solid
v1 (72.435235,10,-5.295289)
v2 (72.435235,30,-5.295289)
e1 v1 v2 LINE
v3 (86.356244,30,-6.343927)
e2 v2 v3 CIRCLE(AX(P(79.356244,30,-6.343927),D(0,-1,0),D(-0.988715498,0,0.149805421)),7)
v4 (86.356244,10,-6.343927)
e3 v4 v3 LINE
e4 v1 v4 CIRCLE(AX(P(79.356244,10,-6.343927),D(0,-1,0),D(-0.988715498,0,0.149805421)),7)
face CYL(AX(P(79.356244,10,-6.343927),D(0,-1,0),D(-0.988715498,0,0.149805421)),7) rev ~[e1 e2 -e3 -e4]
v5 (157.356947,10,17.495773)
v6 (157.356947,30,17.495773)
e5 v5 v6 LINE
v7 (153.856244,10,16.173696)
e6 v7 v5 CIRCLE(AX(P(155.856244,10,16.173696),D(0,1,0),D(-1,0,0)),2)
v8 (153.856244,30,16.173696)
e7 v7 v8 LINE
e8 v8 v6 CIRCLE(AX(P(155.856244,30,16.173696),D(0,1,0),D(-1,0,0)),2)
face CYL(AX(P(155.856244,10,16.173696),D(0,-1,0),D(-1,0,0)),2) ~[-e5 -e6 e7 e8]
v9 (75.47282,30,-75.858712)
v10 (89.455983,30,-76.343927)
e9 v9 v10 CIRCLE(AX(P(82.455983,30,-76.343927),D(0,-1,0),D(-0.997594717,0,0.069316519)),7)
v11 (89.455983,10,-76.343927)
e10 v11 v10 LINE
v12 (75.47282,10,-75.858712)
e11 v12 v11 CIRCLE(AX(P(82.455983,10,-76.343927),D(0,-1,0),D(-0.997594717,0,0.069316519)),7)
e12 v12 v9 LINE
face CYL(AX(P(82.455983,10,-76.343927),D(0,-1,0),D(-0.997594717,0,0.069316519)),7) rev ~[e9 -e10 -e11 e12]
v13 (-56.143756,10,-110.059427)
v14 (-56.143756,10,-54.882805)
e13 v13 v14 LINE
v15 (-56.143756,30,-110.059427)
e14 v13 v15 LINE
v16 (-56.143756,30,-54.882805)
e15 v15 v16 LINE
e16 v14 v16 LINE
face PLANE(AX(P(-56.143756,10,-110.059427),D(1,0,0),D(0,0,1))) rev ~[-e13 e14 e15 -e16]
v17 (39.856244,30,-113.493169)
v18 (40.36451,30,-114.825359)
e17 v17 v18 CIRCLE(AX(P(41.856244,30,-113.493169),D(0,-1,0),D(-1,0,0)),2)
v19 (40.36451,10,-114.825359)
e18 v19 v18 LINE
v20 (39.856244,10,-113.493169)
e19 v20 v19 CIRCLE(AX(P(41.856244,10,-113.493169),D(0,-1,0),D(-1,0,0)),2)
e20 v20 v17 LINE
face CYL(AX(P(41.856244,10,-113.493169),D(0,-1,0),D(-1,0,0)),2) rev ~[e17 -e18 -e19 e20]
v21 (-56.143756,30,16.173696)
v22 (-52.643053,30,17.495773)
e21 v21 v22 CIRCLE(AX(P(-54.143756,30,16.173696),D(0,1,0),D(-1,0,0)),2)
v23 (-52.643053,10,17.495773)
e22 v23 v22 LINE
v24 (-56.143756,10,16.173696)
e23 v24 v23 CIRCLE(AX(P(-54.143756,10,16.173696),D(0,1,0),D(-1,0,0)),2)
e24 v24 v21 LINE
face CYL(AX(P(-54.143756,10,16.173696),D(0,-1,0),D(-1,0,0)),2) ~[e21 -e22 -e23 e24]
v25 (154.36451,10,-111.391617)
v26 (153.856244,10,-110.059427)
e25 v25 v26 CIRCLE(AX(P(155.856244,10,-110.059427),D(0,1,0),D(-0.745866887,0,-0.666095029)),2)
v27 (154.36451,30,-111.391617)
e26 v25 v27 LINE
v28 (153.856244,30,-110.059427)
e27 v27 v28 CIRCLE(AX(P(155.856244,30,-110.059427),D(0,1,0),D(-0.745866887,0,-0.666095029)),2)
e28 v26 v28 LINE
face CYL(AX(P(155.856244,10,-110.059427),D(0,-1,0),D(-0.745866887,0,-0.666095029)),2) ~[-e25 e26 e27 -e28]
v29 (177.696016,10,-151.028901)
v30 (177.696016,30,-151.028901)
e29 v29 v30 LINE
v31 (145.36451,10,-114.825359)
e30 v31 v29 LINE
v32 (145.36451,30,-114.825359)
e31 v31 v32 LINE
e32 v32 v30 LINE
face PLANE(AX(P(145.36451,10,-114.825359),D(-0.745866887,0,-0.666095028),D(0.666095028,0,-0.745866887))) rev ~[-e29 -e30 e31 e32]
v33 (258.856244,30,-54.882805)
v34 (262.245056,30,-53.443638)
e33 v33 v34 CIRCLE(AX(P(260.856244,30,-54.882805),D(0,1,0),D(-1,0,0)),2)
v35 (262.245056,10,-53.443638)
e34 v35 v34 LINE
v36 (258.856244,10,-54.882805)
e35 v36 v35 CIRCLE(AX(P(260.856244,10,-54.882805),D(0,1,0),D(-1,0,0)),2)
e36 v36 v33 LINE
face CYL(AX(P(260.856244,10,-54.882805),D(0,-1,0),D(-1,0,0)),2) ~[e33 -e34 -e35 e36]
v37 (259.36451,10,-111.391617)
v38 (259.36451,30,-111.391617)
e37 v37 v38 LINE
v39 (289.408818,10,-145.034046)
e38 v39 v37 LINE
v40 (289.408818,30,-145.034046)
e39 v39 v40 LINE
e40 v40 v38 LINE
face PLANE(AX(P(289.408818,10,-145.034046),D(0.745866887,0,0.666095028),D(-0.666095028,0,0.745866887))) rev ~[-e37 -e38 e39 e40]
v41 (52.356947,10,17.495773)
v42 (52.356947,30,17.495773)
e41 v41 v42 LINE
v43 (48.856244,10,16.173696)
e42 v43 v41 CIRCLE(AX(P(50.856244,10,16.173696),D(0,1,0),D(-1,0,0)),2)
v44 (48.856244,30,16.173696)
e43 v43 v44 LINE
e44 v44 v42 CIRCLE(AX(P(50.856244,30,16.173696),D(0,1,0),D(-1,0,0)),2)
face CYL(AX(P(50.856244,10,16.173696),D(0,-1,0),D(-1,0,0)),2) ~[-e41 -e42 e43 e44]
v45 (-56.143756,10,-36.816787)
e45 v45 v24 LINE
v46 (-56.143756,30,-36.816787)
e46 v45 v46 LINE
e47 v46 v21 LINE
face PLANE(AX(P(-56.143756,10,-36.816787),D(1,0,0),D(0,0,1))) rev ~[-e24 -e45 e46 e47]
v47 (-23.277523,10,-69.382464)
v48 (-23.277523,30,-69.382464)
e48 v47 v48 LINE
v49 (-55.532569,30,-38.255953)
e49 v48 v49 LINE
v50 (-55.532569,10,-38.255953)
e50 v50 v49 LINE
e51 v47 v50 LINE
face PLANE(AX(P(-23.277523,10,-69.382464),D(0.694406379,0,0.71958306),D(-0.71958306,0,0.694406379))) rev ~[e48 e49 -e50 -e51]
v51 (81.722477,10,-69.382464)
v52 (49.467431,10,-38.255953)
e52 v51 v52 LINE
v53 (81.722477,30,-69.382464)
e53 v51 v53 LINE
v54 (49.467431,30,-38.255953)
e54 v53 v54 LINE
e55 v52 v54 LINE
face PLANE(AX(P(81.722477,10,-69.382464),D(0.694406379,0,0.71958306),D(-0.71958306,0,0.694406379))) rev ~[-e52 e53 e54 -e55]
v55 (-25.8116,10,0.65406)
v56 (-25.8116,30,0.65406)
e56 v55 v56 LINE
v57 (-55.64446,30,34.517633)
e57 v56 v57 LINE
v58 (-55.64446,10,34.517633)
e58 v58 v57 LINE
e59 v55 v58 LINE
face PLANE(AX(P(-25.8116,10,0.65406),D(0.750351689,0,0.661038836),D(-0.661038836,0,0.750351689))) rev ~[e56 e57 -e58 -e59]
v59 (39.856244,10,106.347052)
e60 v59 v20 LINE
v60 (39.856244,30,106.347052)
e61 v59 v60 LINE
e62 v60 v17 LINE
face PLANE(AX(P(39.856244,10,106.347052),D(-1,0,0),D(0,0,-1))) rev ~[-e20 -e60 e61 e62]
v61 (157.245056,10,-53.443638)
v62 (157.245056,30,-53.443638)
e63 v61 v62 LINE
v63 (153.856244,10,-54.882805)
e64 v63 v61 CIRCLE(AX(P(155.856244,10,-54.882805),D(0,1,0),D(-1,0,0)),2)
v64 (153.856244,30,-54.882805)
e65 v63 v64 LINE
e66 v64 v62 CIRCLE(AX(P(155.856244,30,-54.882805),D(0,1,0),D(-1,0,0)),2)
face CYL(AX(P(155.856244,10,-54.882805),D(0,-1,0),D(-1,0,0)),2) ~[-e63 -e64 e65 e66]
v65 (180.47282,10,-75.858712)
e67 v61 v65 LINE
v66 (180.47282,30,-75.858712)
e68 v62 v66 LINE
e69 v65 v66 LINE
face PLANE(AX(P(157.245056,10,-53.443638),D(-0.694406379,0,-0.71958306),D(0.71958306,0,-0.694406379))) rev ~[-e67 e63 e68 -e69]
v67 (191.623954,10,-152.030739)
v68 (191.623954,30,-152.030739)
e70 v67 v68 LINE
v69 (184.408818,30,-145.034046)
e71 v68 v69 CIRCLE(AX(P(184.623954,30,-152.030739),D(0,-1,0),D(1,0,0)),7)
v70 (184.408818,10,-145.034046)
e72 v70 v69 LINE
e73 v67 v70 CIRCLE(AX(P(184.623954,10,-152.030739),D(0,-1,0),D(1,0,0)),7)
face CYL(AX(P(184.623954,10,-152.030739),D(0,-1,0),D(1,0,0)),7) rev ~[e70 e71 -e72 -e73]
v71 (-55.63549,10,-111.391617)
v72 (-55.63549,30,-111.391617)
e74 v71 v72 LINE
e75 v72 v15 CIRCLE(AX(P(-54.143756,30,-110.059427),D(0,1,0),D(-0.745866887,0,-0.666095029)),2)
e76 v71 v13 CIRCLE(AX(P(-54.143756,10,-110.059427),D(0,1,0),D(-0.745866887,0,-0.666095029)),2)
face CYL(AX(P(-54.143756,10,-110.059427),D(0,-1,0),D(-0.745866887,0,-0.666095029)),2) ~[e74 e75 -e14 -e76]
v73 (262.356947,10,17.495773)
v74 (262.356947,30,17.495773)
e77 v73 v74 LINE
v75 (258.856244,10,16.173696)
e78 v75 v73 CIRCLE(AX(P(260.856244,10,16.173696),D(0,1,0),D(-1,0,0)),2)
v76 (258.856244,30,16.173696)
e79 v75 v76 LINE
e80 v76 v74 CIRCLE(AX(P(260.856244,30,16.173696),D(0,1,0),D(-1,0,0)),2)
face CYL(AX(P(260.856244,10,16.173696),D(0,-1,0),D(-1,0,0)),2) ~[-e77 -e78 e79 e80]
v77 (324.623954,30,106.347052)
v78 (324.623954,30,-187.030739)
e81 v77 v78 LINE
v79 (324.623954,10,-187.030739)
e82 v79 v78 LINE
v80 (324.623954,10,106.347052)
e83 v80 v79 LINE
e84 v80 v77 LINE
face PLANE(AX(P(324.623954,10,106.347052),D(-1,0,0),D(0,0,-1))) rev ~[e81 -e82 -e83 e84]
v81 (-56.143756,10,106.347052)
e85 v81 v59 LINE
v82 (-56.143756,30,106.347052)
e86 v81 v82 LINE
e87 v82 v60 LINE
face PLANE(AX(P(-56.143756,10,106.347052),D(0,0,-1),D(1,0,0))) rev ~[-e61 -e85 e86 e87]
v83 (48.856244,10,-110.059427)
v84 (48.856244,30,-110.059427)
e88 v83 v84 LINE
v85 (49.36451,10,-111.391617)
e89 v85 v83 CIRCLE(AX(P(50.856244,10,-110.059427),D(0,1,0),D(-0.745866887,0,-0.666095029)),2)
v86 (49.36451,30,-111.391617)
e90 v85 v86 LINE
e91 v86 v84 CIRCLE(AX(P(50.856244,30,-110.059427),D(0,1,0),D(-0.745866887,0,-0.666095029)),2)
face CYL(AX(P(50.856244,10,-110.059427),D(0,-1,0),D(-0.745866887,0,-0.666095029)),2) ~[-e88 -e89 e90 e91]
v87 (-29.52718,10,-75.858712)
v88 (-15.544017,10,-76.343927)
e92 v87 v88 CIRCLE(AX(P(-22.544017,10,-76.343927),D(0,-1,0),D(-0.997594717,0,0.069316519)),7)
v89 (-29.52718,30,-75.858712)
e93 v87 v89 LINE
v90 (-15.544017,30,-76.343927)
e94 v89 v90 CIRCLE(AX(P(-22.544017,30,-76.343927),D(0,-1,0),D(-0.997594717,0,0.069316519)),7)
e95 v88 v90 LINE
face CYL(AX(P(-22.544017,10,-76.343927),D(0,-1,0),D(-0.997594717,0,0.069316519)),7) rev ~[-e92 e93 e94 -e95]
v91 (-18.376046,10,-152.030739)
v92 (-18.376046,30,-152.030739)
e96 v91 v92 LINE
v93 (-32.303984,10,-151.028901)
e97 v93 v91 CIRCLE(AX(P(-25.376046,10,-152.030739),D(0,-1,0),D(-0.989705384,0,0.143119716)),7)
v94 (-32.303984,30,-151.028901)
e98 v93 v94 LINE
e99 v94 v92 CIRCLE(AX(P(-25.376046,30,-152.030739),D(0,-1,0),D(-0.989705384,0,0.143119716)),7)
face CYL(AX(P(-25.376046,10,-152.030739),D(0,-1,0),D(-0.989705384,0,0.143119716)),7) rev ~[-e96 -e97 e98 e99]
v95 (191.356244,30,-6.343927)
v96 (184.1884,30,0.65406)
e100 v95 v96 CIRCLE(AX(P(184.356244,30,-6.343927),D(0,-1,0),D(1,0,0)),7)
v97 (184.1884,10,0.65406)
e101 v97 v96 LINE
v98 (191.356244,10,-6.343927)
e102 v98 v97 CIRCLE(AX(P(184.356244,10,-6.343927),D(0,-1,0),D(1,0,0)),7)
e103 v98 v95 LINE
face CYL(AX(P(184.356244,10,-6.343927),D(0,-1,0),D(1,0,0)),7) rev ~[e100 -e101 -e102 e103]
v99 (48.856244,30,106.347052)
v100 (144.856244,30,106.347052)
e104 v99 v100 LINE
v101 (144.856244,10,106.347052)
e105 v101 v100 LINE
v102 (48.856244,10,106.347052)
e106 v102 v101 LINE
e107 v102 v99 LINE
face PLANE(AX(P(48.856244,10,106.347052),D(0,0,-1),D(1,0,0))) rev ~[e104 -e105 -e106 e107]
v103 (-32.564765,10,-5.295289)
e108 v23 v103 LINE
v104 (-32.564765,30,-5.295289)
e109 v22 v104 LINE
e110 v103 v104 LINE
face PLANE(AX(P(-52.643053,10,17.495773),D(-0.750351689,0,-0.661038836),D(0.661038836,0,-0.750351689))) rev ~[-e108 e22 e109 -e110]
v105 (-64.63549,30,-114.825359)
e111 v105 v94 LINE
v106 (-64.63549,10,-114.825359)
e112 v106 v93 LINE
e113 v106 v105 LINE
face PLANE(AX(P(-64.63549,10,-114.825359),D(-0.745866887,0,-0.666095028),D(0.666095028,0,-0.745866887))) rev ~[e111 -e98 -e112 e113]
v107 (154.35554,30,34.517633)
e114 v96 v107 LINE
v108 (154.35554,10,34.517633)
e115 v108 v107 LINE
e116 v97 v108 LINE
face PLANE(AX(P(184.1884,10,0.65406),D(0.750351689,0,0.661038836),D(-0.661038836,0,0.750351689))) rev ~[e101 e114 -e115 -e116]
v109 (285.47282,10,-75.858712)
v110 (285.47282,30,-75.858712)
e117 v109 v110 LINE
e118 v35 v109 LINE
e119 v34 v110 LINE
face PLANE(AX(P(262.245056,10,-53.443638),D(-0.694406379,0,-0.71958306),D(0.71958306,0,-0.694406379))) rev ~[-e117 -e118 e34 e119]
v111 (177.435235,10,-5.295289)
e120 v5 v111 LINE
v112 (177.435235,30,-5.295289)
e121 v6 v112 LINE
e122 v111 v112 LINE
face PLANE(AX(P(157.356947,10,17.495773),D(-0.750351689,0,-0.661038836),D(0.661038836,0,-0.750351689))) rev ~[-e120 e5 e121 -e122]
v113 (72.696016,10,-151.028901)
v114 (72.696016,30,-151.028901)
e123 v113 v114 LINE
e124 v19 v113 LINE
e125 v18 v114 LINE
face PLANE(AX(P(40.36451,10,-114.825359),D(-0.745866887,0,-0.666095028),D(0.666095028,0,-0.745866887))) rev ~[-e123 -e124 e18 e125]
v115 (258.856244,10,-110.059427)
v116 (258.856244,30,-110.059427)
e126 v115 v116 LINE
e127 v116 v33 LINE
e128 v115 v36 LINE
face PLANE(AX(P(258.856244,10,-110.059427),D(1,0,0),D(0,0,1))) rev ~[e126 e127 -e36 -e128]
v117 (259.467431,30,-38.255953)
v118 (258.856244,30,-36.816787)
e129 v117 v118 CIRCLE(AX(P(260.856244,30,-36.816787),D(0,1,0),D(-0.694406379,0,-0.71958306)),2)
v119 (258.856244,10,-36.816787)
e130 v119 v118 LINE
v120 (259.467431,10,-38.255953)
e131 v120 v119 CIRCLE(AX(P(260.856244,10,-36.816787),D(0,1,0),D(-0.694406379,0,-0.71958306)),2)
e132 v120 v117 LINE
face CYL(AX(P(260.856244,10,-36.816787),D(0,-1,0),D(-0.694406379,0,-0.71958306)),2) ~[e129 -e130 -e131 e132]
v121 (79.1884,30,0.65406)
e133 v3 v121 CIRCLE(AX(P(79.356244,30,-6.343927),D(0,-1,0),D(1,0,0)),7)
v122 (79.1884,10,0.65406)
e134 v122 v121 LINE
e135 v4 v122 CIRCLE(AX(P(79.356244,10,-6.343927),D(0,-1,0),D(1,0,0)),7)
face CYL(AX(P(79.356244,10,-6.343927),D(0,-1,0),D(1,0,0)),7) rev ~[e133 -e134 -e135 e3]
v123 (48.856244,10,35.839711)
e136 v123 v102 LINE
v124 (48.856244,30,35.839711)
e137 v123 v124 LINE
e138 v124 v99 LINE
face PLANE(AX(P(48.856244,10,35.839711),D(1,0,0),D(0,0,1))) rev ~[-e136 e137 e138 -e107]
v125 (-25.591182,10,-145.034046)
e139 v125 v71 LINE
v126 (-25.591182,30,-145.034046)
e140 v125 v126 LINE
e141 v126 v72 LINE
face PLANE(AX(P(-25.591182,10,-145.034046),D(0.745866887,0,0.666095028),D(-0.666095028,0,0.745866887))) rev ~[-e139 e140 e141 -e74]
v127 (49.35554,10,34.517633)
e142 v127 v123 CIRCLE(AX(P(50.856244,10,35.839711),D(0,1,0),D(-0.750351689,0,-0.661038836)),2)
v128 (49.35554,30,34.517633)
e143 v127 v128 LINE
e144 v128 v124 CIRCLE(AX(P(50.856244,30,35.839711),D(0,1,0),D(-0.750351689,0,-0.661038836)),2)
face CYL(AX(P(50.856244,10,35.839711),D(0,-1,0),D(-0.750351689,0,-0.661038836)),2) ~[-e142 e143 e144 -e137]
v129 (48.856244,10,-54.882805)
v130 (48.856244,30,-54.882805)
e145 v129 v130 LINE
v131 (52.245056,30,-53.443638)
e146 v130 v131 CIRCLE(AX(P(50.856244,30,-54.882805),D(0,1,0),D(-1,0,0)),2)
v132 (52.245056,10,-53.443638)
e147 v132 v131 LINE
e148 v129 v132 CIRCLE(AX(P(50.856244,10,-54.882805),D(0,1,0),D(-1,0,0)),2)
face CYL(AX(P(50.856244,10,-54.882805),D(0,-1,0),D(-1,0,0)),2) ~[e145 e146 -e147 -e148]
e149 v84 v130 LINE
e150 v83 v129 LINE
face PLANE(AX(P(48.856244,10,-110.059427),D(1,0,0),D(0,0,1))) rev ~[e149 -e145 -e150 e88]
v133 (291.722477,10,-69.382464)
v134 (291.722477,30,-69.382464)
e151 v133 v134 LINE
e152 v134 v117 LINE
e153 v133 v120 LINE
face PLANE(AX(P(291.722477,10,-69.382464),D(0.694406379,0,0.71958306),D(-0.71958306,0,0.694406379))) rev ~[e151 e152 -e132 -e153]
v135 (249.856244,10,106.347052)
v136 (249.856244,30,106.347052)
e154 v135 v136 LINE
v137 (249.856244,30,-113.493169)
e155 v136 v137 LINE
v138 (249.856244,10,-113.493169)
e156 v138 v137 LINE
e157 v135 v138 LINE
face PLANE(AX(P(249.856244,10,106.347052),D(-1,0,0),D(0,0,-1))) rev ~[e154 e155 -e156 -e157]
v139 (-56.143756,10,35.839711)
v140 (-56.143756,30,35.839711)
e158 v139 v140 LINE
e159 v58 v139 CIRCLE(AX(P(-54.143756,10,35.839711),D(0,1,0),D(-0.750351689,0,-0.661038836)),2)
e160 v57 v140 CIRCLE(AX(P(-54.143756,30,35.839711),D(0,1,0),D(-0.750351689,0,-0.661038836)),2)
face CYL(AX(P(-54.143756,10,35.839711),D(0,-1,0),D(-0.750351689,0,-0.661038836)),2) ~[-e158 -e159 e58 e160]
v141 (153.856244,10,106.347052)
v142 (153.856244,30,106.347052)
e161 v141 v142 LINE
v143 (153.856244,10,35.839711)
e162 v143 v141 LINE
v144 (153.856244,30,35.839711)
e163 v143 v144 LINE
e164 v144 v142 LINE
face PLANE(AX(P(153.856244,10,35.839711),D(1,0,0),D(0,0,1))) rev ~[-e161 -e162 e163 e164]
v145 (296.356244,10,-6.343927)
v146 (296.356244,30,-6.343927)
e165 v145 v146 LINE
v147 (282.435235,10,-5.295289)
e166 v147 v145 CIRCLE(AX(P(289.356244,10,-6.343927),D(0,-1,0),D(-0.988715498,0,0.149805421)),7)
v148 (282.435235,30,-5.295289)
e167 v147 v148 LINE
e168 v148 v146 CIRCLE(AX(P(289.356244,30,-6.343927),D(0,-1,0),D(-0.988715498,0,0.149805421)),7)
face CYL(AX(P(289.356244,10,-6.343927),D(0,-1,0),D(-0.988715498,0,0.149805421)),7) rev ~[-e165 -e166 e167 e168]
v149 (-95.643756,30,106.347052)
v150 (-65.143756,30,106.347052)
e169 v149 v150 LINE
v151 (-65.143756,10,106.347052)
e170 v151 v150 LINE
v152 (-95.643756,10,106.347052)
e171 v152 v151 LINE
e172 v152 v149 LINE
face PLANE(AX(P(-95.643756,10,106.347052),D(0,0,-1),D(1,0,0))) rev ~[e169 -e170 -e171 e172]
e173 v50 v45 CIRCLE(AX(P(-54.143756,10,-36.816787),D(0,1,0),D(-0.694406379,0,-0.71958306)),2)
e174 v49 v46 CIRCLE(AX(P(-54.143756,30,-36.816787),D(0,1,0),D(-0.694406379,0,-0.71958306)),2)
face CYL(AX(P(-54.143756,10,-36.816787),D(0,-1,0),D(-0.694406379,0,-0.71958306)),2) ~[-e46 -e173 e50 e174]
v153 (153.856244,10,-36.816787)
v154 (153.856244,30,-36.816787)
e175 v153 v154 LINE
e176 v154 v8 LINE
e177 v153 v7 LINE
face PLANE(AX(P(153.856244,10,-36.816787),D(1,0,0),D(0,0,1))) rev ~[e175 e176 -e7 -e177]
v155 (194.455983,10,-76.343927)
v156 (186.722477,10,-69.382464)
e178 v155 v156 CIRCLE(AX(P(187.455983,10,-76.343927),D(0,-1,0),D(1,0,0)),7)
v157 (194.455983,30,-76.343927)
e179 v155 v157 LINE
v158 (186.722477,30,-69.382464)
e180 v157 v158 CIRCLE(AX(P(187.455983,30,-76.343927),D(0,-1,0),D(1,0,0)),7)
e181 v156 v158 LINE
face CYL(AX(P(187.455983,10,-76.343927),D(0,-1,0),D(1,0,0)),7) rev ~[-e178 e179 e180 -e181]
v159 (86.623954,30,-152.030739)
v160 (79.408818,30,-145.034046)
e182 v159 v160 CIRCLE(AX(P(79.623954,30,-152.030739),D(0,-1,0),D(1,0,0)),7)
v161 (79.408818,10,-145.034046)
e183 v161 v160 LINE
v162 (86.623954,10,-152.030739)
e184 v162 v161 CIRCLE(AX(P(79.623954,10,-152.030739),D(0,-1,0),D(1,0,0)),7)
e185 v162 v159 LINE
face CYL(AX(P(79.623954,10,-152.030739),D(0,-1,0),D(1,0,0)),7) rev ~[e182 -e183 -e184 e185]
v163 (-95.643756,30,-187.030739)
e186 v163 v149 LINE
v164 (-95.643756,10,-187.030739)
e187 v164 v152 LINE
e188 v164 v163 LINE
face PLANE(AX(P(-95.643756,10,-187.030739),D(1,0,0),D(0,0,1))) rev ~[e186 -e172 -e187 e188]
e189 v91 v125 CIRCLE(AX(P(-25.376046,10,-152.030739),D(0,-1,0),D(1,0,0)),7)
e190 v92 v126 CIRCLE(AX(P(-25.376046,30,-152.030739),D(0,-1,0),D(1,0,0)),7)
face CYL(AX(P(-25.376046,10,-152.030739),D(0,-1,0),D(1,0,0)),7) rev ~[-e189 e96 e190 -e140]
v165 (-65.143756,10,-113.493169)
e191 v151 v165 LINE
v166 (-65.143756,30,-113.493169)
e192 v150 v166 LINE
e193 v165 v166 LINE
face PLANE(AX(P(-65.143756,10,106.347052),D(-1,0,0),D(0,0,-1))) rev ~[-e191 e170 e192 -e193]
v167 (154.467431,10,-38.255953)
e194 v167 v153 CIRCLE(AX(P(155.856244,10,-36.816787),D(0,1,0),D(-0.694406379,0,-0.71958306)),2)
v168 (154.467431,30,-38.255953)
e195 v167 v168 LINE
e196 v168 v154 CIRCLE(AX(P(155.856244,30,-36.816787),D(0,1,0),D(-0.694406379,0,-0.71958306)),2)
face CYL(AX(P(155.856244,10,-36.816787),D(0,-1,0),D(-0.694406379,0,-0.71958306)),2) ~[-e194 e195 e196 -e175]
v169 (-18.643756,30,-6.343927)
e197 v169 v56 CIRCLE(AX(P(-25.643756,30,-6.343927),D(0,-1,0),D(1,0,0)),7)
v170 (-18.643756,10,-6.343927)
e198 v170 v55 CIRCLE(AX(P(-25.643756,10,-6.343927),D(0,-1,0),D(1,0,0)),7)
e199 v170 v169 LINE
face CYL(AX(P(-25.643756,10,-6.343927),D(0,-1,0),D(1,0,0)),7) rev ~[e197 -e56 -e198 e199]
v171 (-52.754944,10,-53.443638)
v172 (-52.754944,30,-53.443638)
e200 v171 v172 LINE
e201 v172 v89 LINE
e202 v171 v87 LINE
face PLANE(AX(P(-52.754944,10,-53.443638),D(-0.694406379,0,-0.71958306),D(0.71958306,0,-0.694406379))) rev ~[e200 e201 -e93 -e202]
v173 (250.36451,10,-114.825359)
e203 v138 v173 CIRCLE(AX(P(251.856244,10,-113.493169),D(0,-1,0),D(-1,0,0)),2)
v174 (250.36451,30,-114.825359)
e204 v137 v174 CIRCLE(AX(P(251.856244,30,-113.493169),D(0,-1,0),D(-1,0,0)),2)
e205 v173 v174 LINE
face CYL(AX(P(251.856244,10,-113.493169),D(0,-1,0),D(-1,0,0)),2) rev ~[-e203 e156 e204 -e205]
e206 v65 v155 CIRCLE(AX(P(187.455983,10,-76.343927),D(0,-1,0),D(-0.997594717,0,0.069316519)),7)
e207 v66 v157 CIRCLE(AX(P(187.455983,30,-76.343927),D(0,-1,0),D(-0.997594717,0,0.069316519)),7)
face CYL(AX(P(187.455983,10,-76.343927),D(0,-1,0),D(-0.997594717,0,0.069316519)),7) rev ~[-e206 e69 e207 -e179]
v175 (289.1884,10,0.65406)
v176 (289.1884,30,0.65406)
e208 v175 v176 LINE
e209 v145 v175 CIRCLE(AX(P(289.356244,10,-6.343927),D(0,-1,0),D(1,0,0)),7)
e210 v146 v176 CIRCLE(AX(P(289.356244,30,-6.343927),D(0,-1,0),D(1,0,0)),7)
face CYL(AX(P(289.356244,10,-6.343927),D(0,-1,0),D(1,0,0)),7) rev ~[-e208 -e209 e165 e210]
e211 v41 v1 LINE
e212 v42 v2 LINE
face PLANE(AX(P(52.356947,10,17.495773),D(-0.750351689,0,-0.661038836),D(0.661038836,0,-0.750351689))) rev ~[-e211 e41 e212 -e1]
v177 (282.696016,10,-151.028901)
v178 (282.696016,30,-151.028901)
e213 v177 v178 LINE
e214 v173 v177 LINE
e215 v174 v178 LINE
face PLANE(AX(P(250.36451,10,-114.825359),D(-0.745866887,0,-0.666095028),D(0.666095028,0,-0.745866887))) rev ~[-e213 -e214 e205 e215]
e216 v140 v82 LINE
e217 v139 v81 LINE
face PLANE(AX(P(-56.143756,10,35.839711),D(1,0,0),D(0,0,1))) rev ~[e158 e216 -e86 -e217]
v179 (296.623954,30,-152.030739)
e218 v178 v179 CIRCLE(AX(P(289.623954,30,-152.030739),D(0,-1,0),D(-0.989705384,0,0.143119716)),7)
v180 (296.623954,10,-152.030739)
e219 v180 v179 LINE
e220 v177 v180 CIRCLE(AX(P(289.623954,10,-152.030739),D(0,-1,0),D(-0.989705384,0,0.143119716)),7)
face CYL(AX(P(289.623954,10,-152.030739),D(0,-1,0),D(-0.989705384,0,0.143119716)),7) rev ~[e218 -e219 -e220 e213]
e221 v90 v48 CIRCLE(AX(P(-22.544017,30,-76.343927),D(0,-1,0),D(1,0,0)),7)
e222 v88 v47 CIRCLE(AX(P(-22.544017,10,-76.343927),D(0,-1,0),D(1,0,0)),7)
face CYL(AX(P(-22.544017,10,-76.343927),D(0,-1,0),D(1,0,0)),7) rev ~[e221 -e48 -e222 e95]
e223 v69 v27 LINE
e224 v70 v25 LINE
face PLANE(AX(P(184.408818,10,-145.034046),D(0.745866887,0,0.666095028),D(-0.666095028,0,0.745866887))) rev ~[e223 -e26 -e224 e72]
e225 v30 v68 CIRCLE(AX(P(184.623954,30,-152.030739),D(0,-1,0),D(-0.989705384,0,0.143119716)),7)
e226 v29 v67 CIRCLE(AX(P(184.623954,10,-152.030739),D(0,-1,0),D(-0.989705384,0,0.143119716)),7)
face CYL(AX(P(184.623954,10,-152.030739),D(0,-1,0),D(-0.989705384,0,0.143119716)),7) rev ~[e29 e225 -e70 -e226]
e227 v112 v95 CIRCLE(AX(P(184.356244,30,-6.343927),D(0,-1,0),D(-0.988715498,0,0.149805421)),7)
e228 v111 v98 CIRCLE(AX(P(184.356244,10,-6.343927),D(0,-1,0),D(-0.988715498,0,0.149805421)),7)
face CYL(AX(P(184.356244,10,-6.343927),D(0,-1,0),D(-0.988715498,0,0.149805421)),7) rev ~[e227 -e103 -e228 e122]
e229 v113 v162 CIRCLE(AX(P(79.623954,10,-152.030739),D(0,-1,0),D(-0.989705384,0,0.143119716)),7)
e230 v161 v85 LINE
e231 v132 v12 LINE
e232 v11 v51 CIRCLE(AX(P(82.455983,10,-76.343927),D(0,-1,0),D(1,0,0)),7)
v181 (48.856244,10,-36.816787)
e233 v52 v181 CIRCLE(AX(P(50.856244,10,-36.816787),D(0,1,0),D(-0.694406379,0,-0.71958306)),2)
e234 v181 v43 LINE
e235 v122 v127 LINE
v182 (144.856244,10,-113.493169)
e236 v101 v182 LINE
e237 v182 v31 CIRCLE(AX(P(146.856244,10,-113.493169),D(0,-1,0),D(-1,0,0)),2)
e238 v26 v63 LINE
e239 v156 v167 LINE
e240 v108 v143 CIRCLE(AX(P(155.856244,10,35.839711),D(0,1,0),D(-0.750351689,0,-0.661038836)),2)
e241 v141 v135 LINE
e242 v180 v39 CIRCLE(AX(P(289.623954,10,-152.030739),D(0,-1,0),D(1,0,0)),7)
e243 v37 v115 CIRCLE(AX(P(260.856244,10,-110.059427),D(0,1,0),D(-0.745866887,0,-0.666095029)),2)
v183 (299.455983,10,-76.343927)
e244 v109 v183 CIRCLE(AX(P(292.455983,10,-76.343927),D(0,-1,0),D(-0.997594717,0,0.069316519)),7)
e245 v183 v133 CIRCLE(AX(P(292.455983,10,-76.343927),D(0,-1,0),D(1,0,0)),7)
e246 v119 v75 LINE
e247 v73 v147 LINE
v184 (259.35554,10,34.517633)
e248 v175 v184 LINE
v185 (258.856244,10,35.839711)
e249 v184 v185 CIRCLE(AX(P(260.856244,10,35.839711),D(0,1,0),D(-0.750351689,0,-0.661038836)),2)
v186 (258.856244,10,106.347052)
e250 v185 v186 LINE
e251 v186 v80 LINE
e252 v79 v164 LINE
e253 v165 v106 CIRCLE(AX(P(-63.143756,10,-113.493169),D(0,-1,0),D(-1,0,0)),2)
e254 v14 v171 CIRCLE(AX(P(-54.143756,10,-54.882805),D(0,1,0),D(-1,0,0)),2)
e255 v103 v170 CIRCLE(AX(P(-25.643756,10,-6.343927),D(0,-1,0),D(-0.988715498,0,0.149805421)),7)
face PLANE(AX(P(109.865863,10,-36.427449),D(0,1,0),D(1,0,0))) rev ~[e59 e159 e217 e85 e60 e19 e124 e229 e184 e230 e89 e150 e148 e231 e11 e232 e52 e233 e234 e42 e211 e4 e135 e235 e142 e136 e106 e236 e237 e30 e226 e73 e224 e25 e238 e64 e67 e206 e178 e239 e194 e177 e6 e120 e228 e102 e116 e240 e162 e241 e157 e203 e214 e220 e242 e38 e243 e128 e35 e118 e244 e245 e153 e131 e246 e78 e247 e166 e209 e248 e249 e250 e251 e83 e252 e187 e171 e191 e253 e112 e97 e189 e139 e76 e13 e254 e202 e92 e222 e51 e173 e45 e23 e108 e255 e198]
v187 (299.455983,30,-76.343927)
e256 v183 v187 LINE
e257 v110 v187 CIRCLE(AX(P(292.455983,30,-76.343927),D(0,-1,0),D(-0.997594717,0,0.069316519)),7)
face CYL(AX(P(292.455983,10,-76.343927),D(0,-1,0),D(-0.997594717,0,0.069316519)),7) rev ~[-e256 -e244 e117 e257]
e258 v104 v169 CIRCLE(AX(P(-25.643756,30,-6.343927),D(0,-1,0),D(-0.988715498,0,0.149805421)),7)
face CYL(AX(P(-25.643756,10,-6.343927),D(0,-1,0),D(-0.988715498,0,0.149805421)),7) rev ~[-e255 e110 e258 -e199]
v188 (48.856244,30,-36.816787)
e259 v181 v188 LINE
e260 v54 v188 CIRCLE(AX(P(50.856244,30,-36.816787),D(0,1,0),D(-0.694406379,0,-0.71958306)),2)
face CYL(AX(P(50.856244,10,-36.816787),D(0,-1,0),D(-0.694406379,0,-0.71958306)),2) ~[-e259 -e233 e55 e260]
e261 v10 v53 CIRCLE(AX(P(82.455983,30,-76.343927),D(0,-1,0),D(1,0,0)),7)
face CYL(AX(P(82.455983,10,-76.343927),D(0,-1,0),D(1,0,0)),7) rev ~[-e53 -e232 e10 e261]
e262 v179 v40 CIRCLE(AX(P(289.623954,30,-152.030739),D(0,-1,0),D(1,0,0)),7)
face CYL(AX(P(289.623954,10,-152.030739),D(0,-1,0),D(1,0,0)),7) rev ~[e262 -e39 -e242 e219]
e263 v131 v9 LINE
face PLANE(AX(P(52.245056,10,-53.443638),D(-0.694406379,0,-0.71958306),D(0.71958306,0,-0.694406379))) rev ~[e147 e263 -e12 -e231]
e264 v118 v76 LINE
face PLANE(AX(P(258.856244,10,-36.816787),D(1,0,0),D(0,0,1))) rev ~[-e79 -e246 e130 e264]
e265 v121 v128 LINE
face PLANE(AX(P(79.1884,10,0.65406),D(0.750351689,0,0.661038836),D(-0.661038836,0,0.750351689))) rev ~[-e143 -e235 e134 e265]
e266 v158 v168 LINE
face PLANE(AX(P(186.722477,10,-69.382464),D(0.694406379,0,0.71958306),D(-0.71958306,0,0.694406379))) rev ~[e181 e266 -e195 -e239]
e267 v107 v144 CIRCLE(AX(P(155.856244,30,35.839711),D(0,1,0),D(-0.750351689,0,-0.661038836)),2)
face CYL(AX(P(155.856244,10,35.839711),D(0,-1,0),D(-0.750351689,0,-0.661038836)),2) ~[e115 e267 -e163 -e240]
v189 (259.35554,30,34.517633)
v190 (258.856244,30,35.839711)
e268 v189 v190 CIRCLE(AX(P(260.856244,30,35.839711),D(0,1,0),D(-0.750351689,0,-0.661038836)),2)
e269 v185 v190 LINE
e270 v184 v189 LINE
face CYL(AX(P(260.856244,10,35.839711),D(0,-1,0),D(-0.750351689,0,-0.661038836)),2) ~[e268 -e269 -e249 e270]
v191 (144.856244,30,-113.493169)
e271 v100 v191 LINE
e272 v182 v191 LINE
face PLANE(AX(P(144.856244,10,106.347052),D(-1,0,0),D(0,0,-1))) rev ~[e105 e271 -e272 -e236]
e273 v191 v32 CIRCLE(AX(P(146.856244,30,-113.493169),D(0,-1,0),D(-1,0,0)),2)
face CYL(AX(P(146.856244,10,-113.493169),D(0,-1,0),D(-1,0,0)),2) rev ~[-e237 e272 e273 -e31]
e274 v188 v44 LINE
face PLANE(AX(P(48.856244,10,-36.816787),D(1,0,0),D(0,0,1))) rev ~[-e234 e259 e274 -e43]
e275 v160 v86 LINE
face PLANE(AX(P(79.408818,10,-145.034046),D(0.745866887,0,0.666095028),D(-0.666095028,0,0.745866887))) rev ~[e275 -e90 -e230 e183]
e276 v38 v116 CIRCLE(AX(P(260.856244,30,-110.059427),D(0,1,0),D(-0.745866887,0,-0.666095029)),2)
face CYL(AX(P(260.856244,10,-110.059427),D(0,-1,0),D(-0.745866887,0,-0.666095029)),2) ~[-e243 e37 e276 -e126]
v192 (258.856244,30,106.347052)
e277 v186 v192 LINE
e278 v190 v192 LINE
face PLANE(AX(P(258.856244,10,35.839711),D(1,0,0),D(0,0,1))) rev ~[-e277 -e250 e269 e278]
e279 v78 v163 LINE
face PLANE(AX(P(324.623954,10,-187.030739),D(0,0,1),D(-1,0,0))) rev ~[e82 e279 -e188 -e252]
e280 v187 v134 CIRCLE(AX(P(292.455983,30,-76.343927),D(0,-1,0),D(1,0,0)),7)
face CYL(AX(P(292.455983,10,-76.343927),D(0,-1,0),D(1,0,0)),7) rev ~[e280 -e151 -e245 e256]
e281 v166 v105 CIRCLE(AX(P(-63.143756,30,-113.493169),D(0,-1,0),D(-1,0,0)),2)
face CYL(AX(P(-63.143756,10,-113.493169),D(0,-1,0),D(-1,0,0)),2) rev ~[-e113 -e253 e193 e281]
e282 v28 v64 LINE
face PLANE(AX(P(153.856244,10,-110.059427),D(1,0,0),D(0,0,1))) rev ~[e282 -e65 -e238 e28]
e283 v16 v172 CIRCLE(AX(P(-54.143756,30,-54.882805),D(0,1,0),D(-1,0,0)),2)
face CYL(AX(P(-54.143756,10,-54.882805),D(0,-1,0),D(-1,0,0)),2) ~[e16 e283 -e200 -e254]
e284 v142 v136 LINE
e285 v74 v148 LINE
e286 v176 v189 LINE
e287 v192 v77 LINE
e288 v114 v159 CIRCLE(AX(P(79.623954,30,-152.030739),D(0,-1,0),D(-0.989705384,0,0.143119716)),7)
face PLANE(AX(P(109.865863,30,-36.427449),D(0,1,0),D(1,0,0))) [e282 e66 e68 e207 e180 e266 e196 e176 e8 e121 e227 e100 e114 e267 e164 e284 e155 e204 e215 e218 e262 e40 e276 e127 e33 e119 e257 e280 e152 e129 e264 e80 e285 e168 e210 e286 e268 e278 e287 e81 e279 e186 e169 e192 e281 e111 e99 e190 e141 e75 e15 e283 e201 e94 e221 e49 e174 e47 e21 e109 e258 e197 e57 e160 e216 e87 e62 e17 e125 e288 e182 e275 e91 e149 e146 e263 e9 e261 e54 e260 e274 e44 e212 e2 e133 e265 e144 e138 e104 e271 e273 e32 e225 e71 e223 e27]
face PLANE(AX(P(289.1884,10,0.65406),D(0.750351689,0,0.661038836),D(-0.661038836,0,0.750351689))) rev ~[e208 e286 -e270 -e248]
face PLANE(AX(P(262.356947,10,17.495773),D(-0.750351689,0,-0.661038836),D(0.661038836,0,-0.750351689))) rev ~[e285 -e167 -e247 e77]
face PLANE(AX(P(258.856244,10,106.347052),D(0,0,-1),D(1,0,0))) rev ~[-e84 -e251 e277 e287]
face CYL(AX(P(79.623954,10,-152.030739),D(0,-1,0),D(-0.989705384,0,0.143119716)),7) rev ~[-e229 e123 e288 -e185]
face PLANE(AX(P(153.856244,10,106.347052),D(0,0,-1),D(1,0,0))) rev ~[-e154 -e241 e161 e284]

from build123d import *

# Parameters (mm, degrees)
BOSS_EXTRUDE1_DEPTH = 20


with BuildPart() as part:
    # Sketch1 → Boss-Extrude1 (new body)
    with BuildSketch(Plane(origin=(0, 10, 0), x_dir=(1, 0, 0), z_dir=(0, 1, 0))):
        with BuildLine():
            Line((324.62395369, 187.030739377), (-95.643756342, 187.030739377))
            Line((-95.643756342, 187.030739377), (-95.643756342, -106.347051638))
            Line((-95.643756342, -106.347051638), (-65.143756342, -106.347051638))
            Line((-65.143756342, -106.347051638), (-65.143756342, -33.38491726))
            Line((-65.143756342, -33.38491726), (-65.143756342, 39.577217118))
            Line((-65.143756342, 39.577217118), (-65.143756342, 113.493168526))
            ThreePointArc((-65.143756342, 113.493168526), (-65.012374488, 114.20609645), (-64.635490117, 114.825358582))
            Line((-64.635490117, 114.825358582), (-32.303983997, 151.028901364))
            ThreePointArc((-32.303983997, 151.028901364), (-25.878259507, 159.012700556), (-18.37604631, 152.030739377))
            ThreePointArc((-18.37604631, 152.030739377), (-20.50295437, 147.005505557), (-25.591182009, 145.034046113))
            Line((-25.591182009, 145.034046113), (-55.635490117, 111.391617273))
            ThreePointArc((-55.635490117, 111.391617273), (-56.012374488, 110.772355142), (-56.143756342, 110.059427218))
            Line((-56.143756342, 110.059427218), (-56.143756342, 54.882804578))
            ThreePointArc((-56.143756342, 54.882804578), (-54.925540994, 53.041931753), (-52.754943584, 53.443638458))
            Line((-52.754943584, 53.443638458), (-29.527180359, 75.858711639))
            ThreePointArc((-29.527180359, 75.858711639), (-22.786771169, 83.339716759), (-15.544017337, 76.34392727))
            ThreePointArc((-15.544017337, 76.34392727), (-17.860778034, 71.141305851), (-23.277522947, 69.382464097))
            Line((-23.277522947, 69.382464097), (-55.5325691, 38.255953421))
            ThreePointArc((-55.5325691, 38.255953421), (-55.984629167, 37.598571952), (-56.143756342, 36.816787301))
            Line((-56.143756342, 36.816787301), (-56.143756342, -16.173695516))
            ThreePointArc((-56.143756342, -16.173695516), (-54.850365584, -18.044712186), (-52.643052963, -17.495773188))
            Line((-52.643052963, -17.495773188), (-32.564764827, 5.295289321))
            ThreePointArc((-32.564764827, 5.295289321), (-26.169560776, 13.324151457), (-18.643756342, 6.34392727))
            ThreePointArc((-18.643756342, 6.34392727), (-20.753710482, 1.335189757), (-25.811599623, -0.6540602))
            Line((-25.811599623, -0.6540602), (-55.644459721, -34.517633364))
            ThreePointArc((-55.644459721, -34.517633364), (-56.014773012, -35.133101793), (-56.143756342, -35.839711035))
            Line((-56.143756342, -35.839711035), (-56.143756342, -106.347051638))
            Line((-56.143756342, -106.347051638), (39.856243658, -106.347051638))
            Line((39.856243658, -106.347051638), (39.856243658, -33.38491726))
            Line((39.856243658, -33.38491726), (39.856243658, 39.577217118))
            Line((39.856243658, 39.577217118), (39.856243658, 113.493168526))
            ThreePointArc((39.856243658, 113.493168526), (39.987625512, 114.20609645), (40.364509883, 114.825358582))
            Line((40.364509883, 114.825358582), (72.696016003, 151.028901364))
            ThreePointArc((72.696016003, 151.028901364), (79.121740493, 159.012700556), (86.62395369, 152.030739377))
            ThreePointArc((86.62395369, 152.030739377), (84.49704563, 147.005505557), (79.408817991, 145.034046113))
            Line((79.408817991, 145.034046113), (49.364509883, 111.391617273))
            ThreePointArc((49.364509883, 111.391617273), (48.987625512, 110.772355142), (48.856243658, 110.059427218))
            Line((48.856243658, 110.059427218), (48.856243658, 54.882804578))
            ThreePointArc((48.856243658, 54.882804578), (50.074459006, 53.041931753), (52.245056416, 53.443638458))
            Line((52.245056416, 53.443638458), (75.472819641, 75.858711639))
            ThreePointArc((75.472819641, 75.858711639), (82.213228831, 83.339716759), (89.455982663, 76.34392727))
            ThreePointArc((89.455982663, 76.34392727), (87.139221966, 71.141305851), (81.722477053, 69.382464097))
            Line((81.722477053, 69.382464097), (49.4674309, 38.255953421))
            ThreePointArc((49.4674309, 38.255953421), (49.015370833, 37.598571952), (48.856243658, 36.816787301))
            Line((48.856243658, 36.816787301), (48.856243658, -16.173695516))
            ThreePointArc((48.856243658, -16.173695516), (50.149634416, -18.044712186), (52.356947037, -17.495773188))
            Line((52.356947037, -17.495773188), (72.435235173, 5.295289321))
            ThreePointArc((72.435235173, 5.295289321), (78.830439224, 13.324151457), (86.356243658, 6.34392727))
            ThreePointArc((86.356243658, 6.34392727), (84.246289518, 1.335189757), (79.188400377, -0.6540602))
            Line((79.188400377, -0.6540602), (49.355540279, -34.517633364))
            ThreePointArc((49.355540279, -34.517633364), (48.985226988, -35.133101793), (48.856243658, -35.839711035))
            Line((48.856243658, -35.839711035), (48.856243658, -106.347051638))
            Line((48.856243658, -106.347051638), (144.856243658, -106.347051638))
            Line((144.856243658, -106.347051638), (144.856243658, -33.38491726))
            Line((144.856243658, -33.38491726), (144.856243658, 39.577217118))
            Line((144.856243658, 39.577217118), (144.856243658, 113.493168526))
            ThreePointArc((144.856243658, 113.493168526), (144.987625512, 114.20609645), (145.364509883, 114.825358582))
            Line((145.364509883, 114.825358582), (177.696016003, 151.028901364))
            ThreePointArc((177.696016003, 151.028901364), (184.121740493, 159.012700556), (191.62395369, 152.030739377))
            ThreePointArc((191.62395369, 152.030739377), (189.49704563, 147.005505557), (184.408817991, 145.034046113))
            Line((184.408817991, 145.034046113), (154.364509883, 111.391617273))
            ThreePointArc((154.364509883, 111.391617273), (153.987625512, 110.772355142), (153.856243658, 110.059427218))
            Line((153.856243658, 110.059427218), (153.856243658, 54.882804578))
            ThreePointArc((153.856243658, 54.882804578), (155.074459006, 53.041931753), (157.245056416, 53.443638458))
            Line((157.245056416, 53.443638458), (180.472819641, 75.858711639))
            ThreePointArc((180.472819641, 75.858711639), (187.213228831, 83.339716759), (194.455982663, 76.34392727))
            ThreePointArc((194.455982663, 76.34392727), (192.139221966, 71.141305851), (186.722477053, 69.382464097))
            Line((186.722477053, 69.382464097), (154.4674309, 38.255953421))
            ThreePointArc((154.4674309, 38.255953421), (154.015370833, 37.598571952), (153.856243658, 36.816787301))
            Line((153.856243658, 36.816787301), (153.856243658, -16.173695516))
            ThreePointArc((153.856243658, -16.173695516), (155.149634416, -18.044712186), (157.356947037, -17.495773188))
            Line((157.356947037, -17.495773188), (177.435235173, 5.295289321))
            ThreePointArc((177.435235173, 5.295289321), (183.830439224, 13.324151457), (191.356243658, 6.34392727))
            ThreePointArc((191.356243658, 6.34392727), (189.246289518, 1.335189757), (184.188400377, -0.6540602))
            Line((184.188400377, -0.6540602), (154.355540279, -34.517633364))
            ThreePointArc((154.355540279, -34.517633364), (153.985226988, -35.133101793), (153.856243658, -35.839711035))
            Line((153.856243658, -35.839711035), (153.856243658, -106.347051638))
            Line((153.856243658, -106.347051638), (249.856243658, -106.347051638))
            Line((249.856243658, -106.347051638), (249.856243658, -33.38491726))
            Line((249.856243658, -33.38491726), (249.856243658, 39.577217118))
            Line((249.856243658, 39.577217118), (249.856243658, 113.493168526))
            ThreePointArc((249.856243658, 113.493168526), (249.987625512, 114.20609645), (250.364509883, 114.825358582))
            Line((250.364509883, 114.825358582), (282.696016003, 151.028901364))
            ThreePointArc((282.696016003, 151.028901364), (289.121740493, 159.012700556), (296.62395369, 152.030739377))
            ThreePointArc((296.62395369, 152.030739377), (294.49704563, 147.005505557), (289.408817991, 145.034046113))
            Line((289.408817991, 145.034046113), (259.364509883, 111.391617273))
            ThreePointArc((259.364509883, 111.391617273), (258.987625512, 110.772355142), (258.856243658, 110.059427218))
            Line((258.856243658, 110.059427218), (258.856243658, 54.882804578))
            ThreePointArc((258.856243658, 54.882804578), (260.074459006, 53.041931753), (262.245056416, 53.443638458))
            Line((262.245056416, 53.443638458), (285.472819641, 75.858711639))
            ThreePointArc((285.472819641, 75.858711639), (292.213228831, 83.339716759), (299.455982663, 76.34392727))
            ThreePointArc((299.455982663, 76.34392727), (297.139221966, 71.141305851), (291.722477053, 69.382464097))
            Line((291.722477053, 69.382464097), (259.4674309, 38.255953421))
            ThreePointArc((259.4674309, 38.255953421), (259.015370833, 37.598571952), (258.856243658, 36.816787301))
            Line((258.856243658, 36.816787301), (258.856243658, -16.173695516))
            ThreePointArc((258.856243658, -16.173695516), (260.149634416, -18.044712186), (262.356947037, -17.495773188))
            Line((262.356947037, -17.495773188), (282.435235173, 5.295289321))
            ThreePointArc((282.435235173, 5.295289321), (288.830439224, 13.324151457), (296.356243658, 6.34392727))
            ThreePointArc((296.356243658, 6.34392727), (294.246289518, 1.335189757), (289.188400377, -0.6540602))
            Line((289.188400377, -0.6540602), (259.355540279, -34.517633364))
            ThreePointArc((259.355540279, -34.517633364), (258.985226988, -35.133101793), (258.856243658, -35.839711035))
            Line((258.856243658, -35.839711035), (258.856243658, -106.347051638))
            Line((258.856243658, -106.347051638), (324.62395369, -106.347051638))
            Line((324.62395369, -106.347051638), (324.62395369, 187.030739377))
        make_face()
    extrude(amount=BOSS_EXTRUDE1_DEPTH)


solid = part.part
